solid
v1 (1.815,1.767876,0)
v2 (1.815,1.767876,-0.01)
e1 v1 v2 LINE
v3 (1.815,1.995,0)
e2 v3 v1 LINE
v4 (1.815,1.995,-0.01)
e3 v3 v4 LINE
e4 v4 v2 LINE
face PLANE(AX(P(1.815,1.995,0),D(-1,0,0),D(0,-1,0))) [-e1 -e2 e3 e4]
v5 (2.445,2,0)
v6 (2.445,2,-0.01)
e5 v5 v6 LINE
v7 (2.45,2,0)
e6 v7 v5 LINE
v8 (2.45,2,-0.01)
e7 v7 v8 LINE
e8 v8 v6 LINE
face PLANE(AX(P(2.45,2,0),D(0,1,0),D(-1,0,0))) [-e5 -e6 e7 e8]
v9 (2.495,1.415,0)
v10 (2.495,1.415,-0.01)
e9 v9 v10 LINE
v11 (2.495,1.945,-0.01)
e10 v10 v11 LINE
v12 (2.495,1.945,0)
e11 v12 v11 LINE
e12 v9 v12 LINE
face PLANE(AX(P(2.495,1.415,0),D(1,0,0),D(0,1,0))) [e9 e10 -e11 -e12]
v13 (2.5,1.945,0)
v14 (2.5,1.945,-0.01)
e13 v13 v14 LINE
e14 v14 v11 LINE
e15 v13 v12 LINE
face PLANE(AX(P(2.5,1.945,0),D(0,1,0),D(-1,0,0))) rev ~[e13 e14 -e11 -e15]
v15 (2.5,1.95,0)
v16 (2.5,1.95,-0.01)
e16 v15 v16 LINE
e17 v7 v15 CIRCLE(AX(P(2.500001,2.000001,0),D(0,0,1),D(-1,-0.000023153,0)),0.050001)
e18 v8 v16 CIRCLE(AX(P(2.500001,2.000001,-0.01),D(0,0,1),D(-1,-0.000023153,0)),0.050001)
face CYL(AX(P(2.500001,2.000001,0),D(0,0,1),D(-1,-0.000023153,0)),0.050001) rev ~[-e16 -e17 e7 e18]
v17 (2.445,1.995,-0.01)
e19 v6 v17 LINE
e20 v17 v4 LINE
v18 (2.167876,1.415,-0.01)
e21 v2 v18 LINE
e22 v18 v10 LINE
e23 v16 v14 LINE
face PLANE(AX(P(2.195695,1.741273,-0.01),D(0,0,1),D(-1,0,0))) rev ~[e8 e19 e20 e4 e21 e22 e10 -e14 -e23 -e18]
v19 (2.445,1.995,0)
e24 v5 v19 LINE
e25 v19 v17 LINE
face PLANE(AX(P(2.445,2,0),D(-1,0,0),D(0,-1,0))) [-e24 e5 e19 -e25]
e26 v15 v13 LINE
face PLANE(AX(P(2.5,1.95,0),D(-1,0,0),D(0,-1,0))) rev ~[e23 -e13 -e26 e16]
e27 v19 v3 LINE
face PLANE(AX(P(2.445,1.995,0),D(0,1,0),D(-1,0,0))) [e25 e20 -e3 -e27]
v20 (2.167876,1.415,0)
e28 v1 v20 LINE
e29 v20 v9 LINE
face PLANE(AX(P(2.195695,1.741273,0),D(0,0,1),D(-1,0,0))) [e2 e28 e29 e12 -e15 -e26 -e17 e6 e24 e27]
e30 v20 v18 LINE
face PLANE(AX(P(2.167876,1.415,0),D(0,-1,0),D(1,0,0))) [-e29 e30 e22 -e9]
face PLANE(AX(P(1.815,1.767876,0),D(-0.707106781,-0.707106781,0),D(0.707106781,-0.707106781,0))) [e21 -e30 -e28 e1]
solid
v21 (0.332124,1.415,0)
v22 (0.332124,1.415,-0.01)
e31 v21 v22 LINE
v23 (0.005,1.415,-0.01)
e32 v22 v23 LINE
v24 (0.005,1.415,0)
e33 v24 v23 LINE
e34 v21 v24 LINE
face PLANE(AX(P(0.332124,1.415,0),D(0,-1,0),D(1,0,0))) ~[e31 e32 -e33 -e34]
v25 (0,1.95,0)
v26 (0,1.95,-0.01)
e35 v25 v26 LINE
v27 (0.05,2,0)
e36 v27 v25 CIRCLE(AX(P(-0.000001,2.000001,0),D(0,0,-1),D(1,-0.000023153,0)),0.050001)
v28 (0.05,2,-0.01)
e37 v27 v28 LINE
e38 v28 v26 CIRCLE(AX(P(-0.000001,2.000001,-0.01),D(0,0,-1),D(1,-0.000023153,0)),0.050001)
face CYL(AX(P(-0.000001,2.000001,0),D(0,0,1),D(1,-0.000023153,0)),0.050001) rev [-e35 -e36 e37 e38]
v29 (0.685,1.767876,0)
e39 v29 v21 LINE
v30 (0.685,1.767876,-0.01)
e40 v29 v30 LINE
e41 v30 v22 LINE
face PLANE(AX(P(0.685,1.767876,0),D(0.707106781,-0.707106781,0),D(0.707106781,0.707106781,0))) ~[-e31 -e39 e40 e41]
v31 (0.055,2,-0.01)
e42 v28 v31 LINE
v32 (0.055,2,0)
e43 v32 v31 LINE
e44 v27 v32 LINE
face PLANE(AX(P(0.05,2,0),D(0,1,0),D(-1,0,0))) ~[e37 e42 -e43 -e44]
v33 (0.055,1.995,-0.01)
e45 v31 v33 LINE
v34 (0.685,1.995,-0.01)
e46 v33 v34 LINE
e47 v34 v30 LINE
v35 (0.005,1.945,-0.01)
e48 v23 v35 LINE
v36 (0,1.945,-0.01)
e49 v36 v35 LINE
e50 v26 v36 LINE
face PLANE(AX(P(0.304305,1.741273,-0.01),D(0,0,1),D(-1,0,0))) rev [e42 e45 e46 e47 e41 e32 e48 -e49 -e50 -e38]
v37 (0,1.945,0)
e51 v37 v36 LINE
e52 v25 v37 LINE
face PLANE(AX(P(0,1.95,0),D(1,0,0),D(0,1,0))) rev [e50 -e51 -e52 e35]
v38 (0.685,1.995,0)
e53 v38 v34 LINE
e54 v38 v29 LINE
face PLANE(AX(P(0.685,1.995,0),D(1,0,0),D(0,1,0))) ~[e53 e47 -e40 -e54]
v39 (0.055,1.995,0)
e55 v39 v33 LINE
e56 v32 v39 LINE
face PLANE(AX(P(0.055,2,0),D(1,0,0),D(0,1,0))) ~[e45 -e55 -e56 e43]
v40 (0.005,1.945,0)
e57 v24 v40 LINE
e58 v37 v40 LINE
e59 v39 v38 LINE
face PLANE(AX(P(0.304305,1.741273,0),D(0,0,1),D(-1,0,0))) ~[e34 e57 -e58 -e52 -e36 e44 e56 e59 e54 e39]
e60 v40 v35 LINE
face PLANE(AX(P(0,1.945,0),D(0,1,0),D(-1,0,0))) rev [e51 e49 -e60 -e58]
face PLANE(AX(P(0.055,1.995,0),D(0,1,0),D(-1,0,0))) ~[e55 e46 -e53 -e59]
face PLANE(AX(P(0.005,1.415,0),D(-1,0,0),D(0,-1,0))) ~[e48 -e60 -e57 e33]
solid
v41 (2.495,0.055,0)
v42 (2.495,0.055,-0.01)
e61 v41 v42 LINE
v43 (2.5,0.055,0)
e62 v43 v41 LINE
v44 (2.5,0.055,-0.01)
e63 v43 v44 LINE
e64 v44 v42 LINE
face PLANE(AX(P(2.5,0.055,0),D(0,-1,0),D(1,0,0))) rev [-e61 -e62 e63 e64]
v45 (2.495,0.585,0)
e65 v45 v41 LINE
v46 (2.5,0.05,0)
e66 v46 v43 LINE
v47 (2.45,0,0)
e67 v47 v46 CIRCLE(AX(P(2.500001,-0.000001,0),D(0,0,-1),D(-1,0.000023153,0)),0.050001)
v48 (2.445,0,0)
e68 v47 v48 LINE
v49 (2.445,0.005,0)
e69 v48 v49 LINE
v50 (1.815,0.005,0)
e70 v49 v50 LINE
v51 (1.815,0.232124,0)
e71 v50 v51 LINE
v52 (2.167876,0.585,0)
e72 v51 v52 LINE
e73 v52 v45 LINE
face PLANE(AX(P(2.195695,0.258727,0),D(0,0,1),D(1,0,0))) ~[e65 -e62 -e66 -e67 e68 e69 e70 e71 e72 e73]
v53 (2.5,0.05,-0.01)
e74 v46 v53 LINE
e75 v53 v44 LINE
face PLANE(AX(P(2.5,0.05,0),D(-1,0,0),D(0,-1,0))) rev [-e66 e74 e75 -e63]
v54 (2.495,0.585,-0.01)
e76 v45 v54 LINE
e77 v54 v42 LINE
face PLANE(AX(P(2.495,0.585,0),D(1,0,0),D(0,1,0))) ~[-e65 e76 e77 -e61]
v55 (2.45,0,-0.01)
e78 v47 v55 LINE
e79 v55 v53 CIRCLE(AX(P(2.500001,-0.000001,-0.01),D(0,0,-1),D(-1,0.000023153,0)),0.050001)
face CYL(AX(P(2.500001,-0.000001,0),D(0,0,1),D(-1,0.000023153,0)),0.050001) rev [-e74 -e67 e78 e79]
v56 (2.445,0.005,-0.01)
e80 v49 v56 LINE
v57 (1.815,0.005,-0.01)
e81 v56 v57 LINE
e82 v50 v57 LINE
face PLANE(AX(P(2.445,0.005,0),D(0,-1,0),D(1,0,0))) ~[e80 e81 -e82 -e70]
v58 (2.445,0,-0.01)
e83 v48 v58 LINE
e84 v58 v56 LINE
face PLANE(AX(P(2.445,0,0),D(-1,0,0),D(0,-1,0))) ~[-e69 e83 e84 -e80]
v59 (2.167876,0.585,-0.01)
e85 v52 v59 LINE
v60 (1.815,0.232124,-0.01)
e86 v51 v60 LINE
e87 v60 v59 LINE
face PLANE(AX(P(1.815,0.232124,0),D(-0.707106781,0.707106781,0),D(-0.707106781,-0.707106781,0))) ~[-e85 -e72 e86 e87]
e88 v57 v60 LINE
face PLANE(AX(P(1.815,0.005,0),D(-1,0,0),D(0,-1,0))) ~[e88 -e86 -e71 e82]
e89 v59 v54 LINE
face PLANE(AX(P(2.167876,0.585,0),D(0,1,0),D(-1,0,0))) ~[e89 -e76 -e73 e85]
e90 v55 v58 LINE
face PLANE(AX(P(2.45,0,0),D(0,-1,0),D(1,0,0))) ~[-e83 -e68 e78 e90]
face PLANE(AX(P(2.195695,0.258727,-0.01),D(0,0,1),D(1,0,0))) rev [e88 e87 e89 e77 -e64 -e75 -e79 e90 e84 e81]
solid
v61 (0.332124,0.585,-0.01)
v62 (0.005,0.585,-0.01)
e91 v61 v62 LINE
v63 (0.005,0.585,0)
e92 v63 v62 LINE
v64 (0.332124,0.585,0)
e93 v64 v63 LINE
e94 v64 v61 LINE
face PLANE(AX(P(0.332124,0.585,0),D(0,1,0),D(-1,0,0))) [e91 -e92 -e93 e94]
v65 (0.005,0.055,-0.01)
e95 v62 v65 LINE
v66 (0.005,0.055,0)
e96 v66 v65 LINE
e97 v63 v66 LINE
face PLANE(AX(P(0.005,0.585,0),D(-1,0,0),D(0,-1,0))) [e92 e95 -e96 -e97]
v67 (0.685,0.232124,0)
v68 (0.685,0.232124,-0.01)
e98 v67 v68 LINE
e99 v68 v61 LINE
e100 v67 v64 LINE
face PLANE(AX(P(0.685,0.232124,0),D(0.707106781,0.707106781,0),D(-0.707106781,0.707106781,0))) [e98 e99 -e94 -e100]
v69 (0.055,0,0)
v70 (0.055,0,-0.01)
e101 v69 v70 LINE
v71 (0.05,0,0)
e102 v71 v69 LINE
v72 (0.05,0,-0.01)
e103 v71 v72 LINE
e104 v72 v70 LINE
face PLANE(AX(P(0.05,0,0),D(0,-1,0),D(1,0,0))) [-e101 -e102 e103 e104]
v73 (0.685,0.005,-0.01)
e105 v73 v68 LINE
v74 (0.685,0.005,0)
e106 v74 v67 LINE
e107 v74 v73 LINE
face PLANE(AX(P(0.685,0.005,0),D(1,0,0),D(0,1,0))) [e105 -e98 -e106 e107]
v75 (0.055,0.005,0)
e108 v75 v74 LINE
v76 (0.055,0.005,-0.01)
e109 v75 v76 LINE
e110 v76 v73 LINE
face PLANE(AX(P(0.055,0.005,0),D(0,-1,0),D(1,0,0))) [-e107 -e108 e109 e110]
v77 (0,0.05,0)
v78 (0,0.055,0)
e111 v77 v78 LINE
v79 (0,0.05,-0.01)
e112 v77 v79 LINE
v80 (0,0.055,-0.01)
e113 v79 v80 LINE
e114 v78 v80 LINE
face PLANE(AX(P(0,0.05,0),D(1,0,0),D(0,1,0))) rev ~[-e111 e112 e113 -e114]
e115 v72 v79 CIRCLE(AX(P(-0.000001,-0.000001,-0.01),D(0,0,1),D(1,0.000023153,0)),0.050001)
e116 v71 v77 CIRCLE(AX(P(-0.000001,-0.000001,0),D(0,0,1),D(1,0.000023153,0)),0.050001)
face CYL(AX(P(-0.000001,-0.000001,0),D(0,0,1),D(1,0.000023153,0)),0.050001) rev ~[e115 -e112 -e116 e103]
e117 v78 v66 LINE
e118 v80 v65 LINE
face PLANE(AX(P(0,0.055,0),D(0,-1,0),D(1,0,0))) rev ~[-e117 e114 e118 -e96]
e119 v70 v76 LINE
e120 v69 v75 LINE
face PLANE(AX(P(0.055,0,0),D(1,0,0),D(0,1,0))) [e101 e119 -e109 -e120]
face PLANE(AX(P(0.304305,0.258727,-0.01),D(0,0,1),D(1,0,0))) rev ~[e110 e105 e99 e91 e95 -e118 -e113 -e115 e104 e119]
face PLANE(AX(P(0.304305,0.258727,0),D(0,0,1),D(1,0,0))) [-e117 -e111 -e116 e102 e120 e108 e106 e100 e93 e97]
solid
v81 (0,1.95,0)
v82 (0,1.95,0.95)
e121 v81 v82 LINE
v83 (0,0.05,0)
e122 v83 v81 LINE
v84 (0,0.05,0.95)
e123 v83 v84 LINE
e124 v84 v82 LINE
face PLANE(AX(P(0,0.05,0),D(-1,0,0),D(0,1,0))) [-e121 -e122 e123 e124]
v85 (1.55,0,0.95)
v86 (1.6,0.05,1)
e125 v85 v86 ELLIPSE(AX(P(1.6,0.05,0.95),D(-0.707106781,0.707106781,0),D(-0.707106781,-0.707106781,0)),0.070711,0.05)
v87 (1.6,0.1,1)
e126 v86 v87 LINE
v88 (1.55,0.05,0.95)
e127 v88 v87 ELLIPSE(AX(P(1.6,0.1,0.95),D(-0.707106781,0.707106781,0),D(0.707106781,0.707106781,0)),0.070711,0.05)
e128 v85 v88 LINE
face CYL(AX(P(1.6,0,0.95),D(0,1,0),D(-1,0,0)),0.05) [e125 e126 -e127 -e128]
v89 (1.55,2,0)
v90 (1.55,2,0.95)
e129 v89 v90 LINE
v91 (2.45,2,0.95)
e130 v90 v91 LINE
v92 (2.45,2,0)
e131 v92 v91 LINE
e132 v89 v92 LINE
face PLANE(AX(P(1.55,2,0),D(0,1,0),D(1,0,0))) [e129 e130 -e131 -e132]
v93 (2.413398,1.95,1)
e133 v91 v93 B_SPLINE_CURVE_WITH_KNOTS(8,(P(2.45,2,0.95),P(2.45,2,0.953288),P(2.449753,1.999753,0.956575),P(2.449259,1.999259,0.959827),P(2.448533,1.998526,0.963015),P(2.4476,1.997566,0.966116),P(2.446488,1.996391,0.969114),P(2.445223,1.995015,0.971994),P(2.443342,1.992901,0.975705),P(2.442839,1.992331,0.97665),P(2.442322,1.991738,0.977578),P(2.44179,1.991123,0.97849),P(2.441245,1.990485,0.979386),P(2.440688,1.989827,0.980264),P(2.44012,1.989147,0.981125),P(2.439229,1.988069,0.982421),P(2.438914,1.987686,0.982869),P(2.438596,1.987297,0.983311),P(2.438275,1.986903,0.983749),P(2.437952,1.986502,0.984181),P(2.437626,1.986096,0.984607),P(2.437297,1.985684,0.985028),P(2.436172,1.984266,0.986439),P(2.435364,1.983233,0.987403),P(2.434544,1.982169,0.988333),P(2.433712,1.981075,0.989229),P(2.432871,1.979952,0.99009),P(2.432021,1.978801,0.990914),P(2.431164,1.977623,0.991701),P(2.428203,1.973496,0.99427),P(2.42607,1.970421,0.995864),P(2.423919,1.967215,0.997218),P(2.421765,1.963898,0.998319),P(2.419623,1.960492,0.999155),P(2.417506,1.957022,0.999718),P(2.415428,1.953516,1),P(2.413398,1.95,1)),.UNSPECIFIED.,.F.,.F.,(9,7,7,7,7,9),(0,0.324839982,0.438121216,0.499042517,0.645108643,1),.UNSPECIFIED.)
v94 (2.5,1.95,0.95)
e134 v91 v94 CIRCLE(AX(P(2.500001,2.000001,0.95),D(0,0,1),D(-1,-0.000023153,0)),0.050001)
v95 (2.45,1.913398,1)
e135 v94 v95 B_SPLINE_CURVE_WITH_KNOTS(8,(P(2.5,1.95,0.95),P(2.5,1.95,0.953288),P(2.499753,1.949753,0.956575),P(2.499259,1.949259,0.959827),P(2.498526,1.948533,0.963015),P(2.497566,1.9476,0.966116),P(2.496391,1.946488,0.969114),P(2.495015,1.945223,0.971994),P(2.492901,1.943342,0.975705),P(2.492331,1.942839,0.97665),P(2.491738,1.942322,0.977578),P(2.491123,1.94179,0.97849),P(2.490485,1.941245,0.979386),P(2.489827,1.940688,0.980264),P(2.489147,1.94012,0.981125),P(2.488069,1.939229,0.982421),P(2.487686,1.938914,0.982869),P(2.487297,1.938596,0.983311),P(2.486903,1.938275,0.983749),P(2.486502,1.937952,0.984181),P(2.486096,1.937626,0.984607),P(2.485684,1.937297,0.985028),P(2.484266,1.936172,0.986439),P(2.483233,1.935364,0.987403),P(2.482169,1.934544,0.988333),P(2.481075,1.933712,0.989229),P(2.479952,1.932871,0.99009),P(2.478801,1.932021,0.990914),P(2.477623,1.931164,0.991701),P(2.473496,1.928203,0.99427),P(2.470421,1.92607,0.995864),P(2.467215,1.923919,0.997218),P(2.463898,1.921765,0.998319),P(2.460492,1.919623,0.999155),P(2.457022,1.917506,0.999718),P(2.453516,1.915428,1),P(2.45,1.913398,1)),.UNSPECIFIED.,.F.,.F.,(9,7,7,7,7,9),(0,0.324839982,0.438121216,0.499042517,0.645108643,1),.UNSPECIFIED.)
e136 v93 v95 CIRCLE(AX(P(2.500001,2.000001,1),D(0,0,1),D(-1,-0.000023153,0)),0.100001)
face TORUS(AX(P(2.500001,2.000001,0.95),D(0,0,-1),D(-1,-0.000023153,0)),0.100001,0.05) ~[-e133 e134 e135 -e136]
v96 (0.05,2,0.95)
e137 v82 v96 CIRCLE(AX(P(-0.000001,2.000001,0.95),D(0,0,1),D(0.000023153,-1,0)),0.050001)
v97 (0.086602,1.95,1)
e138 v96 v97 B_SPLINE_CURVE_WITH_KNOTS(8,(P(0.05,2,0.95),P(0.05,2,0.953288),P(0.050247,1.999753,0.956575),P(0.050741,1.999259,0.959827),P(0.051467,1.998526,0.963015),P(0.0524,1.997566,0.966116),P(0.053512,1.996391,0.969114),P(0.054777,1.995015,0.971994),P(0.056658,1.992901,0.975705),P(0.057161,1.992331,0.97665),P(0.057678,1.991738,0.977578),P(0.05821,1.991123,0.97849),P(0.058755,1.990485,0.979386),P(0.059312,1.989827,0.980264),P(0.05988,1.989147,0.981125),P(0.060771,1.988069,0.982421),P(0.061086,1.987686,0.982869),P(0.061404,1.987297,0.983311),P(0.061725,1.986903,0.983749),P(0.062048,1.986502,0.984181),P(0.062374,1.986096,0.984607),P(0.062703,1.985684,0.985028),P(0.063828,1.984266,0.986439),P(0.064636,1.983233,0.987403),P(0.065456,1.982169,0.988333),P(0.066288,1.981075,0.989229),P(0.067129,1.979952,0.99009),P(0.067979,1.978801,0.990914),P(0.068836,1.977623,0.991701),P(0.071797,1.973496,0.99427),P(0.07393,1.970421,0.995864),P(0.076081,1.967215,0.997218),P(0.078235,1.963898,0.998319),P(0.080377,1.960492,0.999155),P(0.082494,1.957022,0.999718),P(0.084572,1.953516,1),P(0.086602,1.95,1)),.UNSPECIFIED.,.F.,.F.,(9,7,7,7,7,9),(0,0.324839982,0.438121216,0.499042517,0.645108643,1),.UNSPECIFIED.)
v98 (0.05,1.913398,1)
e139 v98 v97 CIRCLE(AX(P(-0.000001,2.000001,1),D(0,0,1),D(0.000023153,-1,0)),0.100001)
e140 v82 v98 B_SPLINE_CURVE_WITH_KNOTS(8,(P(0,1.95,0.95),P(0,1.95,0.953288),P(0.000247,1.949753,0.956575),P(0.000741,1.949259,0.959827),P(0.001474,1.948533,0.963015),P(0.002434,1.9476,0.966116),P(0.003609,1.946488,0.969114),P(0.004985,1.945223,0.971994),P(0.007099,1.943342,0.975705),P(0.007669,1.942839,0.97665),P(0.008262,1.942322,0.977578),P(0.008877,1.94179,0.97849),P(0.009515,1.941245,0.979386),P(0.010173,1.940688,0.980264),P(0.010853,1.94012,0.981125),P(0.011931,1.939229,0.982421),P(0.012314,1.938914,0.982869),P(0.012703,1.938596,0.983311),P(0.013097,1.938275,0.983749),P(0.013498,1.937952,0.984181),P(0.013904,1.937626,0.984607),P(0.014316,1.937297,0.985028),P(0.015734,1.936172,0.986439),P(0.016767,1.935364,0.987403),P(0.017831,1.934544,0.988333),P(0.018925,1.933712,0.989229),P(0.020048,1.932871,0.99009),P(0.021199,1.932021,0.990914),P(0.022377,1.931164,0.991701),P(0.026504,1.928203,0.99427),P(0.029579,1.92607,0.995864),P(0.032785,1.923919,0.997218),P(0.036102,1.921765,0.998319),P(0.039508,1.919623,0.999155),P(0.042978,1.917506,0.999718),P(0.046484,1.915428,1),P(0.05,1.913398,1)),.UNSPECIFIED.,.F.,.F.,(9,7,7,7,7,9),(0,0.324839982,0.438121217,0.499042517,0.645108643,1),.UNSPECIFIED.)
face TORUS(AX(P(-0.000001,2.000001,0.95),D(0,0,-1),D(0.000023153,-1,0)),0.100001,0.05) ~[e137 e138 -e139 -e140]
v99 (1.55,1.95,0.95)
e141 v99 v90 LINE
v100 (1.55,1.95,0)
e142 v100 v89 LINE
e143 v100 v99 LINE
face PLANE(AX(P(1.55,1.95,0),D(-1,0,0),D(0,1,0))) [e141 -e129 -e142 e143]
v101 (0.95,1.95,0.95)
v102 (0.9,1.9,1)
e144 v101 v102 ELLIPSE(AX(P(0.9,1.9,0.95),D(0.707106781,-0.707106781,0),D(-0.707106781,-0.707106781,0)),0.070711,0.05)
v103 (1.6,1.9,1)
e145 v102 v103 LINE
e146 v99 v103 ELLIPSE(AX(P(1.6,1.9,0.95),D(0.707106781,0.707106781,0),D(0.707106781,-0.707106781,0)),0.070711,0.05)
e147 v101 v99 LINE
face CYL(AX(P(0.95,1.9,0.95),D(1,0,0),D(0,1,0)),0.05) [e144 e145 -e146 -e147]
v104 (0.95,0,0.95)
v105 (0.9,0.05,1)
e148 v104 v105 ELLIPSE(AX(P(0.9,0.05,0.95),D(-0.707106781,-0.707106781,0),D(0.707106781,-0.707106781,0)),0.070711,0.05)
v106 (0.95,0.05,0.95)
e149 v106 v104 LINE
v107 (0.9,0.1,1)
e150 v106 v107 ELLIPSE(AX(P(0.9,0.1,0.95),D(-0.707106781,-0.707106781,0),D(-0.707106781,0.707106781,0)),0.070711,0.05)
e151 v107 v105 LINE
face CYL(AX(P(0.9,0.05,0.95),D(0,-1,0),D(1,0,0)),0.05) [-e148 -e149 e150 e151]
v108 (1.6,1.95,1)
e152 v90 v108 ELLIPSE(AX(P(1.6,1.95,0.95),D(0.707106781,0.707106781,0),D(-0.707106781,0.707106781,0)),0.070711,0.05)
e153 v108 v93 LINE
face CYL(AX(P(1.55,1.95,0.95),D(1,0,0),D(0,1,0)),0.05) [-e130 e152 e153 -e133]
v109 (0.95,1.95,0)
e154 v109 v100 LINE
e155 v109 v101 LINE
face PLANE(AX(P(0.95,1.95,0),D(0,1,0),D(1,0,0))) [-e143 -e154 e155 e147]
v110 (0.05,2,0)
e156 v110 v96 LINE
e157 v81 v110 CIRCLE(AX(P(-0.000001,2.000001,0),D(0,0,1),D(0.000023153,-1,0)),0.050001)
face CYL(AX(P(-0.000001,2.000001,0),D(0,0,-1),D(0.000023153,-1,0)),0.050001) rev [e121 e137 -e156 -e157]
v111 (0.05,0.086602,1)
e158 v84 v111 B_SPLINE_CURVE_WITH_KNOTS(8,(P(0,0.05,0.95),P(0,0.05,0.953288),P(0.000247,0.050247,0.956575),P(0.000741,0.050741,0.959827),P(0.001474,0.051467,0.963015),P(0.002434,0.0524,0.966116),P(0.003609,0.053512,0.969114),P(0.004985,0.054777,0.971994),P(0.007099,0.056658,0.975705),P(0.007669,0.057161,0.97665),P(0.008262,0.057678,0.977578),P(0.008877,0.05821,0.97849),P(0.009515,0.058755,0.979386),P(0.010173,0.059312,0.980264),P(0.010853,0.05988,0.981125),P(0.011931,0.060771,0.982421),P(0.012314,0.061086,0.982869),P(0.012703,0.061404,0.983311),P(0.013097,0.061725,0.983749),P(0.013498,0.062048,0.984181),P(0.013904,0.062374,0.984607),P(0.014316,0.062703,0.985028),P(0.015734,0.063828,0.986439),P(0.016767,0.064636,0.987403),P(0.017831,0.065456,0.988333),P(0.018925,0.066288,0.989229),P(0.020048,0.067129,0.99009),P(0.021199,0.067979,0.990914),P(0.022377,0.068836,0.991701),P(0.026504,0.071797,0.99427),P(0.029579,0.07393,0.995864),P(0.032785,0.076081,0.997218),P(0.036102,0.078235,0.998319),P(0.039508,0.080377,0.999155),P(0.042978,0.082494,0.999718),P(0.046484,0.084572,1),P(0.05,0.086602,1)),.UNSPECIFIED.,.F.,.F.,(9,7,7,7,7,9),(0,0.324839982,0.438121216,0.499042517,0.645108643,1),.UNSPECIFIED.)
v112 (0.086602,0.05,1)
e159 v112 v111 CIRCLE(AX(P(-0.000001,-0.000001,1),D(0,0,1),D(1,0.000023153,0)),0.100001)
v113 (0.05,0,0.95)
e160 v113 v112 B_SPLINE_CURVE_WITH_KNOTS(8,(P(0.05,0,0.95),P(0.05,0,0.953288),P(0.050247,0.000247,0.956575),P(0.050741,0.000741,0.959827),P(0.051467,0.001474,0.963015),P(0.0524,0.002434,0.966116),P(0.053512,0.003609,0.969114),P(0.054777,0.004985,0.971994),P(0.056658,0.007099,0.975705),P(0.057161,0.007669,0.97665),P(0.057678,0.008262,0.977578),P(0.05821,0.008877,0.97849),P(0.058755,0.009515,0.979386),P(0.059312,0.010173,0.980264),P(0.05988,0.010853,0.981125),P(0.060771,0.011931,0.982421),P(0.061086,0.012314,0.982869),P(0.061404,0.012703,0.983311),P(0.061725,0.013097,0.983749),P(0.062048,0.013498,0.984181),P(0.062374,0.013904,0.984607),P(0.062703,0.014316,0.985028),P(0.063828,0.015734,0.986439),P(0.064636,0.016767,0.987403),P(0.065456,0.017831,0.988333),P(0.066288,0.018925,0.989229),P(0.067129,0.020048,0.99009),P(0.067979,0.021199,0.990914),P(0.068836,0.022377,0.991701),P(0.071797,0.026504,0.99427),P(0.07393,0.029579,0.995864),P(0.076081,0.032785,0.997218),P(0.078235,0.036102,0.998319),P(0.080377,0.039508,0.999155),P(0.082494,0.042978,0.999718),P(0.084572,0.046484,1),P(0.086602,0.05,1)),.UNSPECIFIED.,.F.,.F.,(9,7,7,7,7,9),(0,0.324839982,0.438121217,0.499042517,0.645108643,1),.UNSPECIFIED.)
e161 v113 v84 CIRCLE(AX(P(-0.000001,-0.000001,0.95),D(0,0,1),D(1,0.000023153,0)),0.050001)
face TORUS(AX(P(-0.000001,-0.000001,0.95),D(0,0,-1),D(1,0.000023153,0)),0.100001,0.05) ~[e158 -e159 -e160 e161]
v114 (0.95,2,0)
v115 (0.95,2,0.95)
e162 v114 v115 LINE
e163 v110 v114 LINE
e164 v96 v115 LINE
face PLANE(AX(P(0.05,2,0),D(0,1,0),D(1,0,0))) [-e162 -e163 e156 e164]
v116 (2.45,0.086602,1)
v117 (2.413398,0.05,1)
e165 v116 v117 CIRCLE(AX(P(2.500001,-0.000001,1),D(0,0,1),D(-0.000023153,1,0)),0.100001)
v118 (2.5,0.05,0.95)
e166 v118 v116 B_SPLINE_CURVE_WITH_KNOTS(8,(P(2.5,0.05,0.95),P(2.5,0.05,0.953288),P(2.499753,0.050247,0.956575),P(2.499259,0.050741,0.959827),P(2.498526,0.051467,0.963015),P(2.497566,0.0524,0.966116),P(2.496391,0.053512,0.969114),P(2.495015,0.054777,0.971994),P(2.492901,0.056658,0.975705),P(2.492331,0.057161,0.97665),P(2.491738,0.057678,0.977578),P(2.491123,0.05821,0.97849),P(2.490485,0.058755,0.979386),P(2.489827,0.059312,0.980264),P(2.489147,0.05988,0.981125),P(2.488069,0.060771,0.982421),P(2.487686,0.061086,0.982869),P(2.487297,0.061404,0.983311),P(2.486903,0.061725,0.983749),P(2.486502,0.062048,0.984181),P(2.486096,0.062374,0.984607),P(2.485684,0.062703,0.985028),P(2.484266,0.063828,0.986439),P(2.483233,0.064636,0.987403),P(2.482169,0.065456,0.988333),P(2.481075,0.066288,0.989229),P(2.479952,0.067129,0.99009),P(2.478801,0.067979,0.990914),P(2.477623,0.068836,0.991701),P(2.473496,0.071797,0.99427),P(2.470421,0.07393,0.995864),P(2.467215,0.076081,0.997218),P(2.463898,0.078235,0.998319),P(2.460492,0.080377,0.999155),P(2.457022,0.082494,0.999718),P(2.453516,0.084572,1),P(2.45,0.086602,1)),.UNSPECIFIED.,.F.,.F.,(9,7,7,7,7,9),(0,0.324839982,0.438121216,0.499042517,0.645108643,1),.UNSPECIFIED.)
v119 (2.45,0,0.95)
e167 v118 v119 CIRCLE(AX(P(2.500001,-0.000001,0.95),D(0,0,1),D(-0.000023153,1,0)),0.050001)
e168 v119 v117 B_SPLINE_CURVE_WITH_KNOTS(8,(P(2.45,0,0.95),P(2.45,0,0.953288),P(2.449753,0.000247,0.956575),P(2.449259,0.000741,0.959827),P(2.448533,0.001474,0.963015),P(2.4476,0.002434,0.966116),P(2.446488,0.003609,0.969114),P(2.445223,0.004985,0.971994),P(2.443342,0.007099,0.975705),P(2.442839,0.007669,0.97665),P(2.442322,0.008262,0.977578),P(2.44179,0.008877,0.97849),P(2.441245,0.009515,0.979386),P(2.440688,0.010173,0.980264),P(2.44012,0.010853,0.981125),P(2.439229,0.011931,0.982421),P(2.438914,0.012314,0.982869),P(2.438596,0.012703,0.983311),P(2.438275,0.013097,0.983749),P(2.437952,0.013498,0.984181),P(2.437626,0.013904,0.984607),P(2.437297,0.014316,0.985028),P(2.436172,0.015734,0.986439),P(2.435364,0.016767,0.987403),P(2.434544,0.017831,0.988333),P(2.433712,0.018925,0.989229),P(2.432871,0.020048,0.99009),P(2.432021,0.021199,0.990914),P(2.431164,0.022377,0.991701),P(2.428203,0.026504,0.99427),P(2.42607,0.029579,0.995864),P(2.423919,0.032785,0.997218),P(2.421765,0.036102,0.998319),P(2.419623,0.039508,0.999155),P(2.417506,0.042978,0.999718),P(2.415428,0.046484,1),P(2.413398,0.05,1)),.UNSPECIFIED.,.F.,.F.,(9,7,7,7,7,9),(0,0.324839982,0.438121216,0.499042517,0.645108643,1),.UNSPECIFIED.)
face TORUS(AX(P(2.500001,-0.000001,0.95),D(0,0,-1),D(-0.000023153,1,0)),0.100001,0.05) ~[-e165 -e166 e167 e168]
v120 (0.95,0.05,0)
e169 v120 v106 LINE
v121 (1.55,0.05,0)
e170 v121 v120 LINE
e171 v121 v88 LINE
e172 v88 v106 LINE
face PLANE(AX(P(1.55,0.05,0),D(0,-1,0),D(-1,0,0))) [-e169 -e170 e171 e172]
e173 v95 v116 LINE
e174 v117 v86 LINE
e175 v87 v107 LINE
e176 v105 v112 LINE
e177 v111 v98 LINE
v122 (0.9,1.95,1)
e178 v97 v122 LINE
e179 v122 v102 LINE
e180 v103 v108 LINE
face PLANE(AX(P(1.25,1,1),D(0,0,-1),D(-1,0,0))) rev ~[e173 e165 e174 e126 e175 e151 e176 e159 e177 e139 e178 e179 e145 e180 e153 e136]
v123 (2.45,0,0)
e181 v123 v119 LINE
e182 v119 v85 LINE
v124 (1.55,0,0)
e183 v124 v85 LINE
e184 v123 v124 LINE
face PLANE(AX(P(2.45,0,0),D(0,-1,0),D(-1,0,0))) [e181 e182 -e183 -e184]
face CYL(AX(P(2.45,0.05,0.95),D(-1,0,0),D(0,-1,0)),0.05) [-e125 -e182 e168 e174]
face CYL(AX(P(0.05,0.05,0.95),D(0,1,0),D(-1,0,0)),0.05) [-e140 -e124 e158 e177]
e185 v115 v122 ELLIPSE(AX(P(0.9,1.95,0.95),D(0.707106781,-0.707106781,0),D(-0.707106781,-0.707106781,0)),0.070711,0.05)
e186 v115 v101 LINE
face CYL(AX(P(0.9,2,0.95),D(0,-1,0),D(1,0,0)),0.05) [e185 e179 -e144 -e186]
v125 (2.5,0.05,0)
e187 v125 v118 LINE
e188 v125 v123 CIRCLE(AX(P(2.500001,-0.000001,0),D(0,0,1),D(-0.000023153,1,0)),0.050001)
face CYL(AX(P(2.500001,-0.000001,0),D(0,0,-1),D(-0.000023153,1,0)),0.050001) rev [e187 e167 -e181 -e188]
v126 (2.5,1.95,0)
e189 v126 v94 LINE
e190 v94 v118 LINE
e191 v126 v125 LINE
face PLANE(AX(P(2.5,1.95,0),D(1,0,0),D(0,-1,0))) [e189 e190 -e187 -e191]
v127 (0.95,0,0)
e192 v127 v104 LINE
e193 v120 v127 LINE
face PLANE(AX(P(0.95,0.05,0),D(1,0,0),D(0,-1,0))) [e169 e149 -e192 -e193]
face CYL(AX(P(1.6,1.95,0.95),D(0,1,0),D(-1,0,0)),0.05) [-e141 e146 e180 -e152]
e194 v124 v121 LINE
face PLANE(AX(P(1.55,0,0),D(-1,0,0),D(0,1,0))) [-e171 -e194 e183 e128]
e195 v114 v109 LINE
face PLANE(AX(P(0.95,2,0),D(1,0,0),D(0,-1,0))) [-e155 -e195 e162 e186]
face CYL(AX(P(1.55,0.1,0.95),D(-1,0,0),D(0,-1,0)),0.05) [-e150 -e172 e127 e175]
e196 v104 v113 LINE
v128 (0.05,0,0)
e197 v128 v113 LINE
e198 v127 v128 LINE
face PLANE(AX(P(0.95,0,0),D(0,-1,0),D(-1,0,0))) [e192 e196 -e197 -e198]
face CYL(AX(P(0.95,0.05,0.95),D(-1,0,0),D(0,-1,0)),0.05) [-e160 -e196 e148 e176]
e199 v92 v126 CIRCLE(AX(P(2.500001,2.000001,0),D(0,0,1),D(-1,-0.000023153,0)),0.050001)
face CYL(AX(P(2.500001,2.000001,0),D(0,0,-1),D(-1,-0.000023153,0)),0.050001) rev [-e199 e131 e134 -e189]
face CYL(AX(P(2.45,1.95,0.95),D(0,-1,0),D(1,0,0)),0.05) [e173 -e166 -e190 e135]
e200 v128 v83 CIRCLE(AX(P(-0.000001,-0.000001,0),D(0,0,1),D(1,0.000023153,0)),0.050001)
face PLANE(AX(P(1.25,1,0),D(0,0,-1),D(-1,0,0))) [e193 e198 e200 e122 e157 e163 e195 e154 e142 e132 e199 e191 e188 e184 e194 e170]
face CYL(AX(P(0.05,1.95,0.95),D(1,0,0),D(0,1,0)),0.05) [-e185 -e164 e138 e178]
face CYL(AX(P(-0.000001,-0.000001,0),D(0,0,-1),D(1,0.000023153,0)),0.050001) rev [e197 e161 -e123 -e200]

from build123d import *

# Parameters (mm, degrees)
EXTRUDE_DEPTH    = 1
FILLET_R         = 0.05
EXTRUDE001_DEPTH = 0.01
EXTRUDE002_DEPTH = 0.01
EXTRUDE003_DEPTH = 0.01
EXTRUDE004_DEPTH = 0.01


with BuildPart() as fillet_body:
    # Sketch → Extrude (new body)
    with BuildSketch(Plane.XY):
        with BuildLine():
            Line((0.95, 2), (0.95, 1.95))
            Line((0.95, 1.95), (1.55, 1.95))
            Line((1.55, 1.95), (1.55, 2))
            Line((1.55, 2), (2.45, 2))
            ThreePointArc((2.45, 2), (2.464645, 1.964645), (2.5, 1.95))
            Line((2.5, 1.95), (2.5, 0.05))
            ThreePointArc((2.5, 0.05), (2.464645, 0.035355), (2.45, 0))
            Line((2.45, 0), (1.55, 0))
            Line((1.55, 0), (1.55, 0.05))
            Line((1.55, 0.05), (0.95, 0.05))
            Line((0.95, 0.05), (0.95, 0))
            Line((0.95, 0), (0.05, 0))
            ThreePointArc((0.05, 0), (0.035355, 0.035355), (0, 0.05))
            Line((0, 0.05), (0, 1.95))
            ThreePointArc((0, 1.95), (0.035355, 1.964645), (0.05, 2))
            Line((0.05, 2), (0.95, 2))
        make_face()
    extrude(amount=EXTRUDE_DEPTH)

    # Fillet
    fillet_edges = [fillet_body.edges().sort_by_distance(p)[0] for p in [
        (0.95, 1.975, 1),
        (1.25, 1.95, 1),
        (1.55, 1.975, 1),
        (2, 2, 1),
        (2.464645, 1.964645, 1),
        (2.5, 1, 1),
        (2.464645, 0.035355, 1),
        (2, 0, 1),
        (1.55, 0.025, 1),
        (1.25, 0.05, 1),
        (0.95, 0.025, 1),
        (0.5, 0, 1),
        (0.035355, 0.035355, 1),
        (0, 1, 1),
        (0.035355, 1.964645, 1),
        (0.5, 2, 1),
    ]]
    fillet(fillet_edges, radius=FILLET_R)


with BuildPart() as extrude001:
    # Sketch001 → Extrude001 (new body)
    with BuildSketch(Plane.XY):
        with BuildLine():
            Line((0.055, 0), (0.055, 0.005))
            Line((0.055, 0.005), (0.685, 0.005))
            Line((0.685, 0.005), (0.685, 0.232124))
            Line((0.685, 0.232124), (0.332124, 0.585))
            Line((0.332124, 0.585), (0.005, 0.585))
            Line((0.005, 0.585), (0.005, 0.055))
            Line((0, 0.055), (0.005, 0.055))
            Line((0, 0.05), (0, 0.055))
            ThreePointArc((0.05, 0), (0.035355, 0.035355), (0, 0.05))
            Line((0.05, 0), (0.055, 0))
        make_face()
    extrude(amount=-EXTRUDE001_DEPTH)


with BuildPart() as extrude002:
    # Sketch002 → Extrude002 (new body)
    with BuildSketch(Plane.XY):
        with BuildLine():
            Line((0.055, 0), (0.055, 0.005))
            Line((0.055, 0.005), (0.685, 0.005))
            Line((0.685, 0.005), (0.685, 0.232124))
            Line((0.685, 0.232124), (0.332124, 0.585))
            Line((0.332124, 0.585), (0.005, 0.585))
            Line((0.005, 0.585), (0.005, 0.055))
            Line((0, 0.055), (0.005, 0.055))
            Line((0, 0.05), (0, 0.055))
            ThreePointArc((0.05, 0), (0.035355, 0.035355), (0, 0.05))
            Line((0.05, 0), (0.055, 0))
        make_face()
    extrude(amount=-EXTRUDE002_DEPTH)


with BuildPart() as part_mirroring:
    # Part__Mirroring: instance of Extrude002
    add(extrude002.part.mirror(Plane(origin=(1.25, 0, 0), x_dir=(0, -1, 0), z_dir=(1, 0, 0))))


with BuildPart() as extrude003:
    # Sketch003 → Extrude003 (new body)
    with BuildSketch(Plane.XY):
        with BuildLine():
            Line((0.055, 0), (0.055, 0.005))
            Line((0.055, 0.005), (0.685, 0.005))
            Line((0.685, 0.005), (0.685, 0.232124))
            Line((0.685, 0.232124), (0.332124, 0.585))
            Line((0.332124, 0.585), (0.005, 0.585))
            Line((0.005, 0.585), (0.005, 0.055))
            Line((0, 0.055), (0.005, 0.055))
            Line((0, 0.05), (0, 0.055))
            ThreePointArc((0.05, 0), (0.035355, 0.035355), (0, 0.05))
            Line((0.05, 0), (0.055, 0))
        make_face()
    extrude(amount=-EXTRUDE003_DEPTH)


with BuildPart() as part_mirroring002:
    # Part__Mirroring002: instance of Extrude003
    add(extrude003.part.mirror(Plane(origin=(0, 1, 0), x_dir=(1, 0, 0), z_dir=(0, 1, 0))))


with BuildPart() as extrude004:
    # Sketch004 → Extrude004 (new body)
    with BuildSketch(Plane.XY):
        with BuildLine():
            Line((0.055, 0), (0.055, 0.005))
            Line((0.055, 0.005), (0.685, 0.005))
            Line((0.685, 0.005), (0.685, 0.232124))
            Line((0.685, 0.232124), (0.332124, 0.585))
            Line((0.332124, 0.585), (0.005, 0.585))
            Line((0.005, 0.585), (0.005, 0.055))
            Line((0, 0.055), (0.005, 0.055))
            Line((0, 0.05), (0, 0.055))
            ThreePointArc((0.05, 0), (0.035355, 0.035355), (0, 0.05))
            Line((0.05, 0), (0.055, 0))
        make_face()
    extrude(amount=-EXTRUDE004_DEPTH)


with BuildPart() as part_mirroring001:
    # Part__Mirroring001: instance of Extrude004
    add(extrude004.part.mirror(Plane(origin=(1.25, 0, 0), x_dir=(0, -1, 0), z_dir=(1, 0, 0))))


with BuildPart() as part_mirroring003:
    # Part__Mirroring003: instance of Part__Mirroring001
    add(part_mirroring001.part.mirror(Plane(origin=(0, 1, 0), x_dir=(1, 0, 0), z_dir=(0, 1, 0))))


solid = Compound([fillet_body.part, extrude001.part, part_mirroring.part, part_mirroring002.part, part_mirroring003.part])
